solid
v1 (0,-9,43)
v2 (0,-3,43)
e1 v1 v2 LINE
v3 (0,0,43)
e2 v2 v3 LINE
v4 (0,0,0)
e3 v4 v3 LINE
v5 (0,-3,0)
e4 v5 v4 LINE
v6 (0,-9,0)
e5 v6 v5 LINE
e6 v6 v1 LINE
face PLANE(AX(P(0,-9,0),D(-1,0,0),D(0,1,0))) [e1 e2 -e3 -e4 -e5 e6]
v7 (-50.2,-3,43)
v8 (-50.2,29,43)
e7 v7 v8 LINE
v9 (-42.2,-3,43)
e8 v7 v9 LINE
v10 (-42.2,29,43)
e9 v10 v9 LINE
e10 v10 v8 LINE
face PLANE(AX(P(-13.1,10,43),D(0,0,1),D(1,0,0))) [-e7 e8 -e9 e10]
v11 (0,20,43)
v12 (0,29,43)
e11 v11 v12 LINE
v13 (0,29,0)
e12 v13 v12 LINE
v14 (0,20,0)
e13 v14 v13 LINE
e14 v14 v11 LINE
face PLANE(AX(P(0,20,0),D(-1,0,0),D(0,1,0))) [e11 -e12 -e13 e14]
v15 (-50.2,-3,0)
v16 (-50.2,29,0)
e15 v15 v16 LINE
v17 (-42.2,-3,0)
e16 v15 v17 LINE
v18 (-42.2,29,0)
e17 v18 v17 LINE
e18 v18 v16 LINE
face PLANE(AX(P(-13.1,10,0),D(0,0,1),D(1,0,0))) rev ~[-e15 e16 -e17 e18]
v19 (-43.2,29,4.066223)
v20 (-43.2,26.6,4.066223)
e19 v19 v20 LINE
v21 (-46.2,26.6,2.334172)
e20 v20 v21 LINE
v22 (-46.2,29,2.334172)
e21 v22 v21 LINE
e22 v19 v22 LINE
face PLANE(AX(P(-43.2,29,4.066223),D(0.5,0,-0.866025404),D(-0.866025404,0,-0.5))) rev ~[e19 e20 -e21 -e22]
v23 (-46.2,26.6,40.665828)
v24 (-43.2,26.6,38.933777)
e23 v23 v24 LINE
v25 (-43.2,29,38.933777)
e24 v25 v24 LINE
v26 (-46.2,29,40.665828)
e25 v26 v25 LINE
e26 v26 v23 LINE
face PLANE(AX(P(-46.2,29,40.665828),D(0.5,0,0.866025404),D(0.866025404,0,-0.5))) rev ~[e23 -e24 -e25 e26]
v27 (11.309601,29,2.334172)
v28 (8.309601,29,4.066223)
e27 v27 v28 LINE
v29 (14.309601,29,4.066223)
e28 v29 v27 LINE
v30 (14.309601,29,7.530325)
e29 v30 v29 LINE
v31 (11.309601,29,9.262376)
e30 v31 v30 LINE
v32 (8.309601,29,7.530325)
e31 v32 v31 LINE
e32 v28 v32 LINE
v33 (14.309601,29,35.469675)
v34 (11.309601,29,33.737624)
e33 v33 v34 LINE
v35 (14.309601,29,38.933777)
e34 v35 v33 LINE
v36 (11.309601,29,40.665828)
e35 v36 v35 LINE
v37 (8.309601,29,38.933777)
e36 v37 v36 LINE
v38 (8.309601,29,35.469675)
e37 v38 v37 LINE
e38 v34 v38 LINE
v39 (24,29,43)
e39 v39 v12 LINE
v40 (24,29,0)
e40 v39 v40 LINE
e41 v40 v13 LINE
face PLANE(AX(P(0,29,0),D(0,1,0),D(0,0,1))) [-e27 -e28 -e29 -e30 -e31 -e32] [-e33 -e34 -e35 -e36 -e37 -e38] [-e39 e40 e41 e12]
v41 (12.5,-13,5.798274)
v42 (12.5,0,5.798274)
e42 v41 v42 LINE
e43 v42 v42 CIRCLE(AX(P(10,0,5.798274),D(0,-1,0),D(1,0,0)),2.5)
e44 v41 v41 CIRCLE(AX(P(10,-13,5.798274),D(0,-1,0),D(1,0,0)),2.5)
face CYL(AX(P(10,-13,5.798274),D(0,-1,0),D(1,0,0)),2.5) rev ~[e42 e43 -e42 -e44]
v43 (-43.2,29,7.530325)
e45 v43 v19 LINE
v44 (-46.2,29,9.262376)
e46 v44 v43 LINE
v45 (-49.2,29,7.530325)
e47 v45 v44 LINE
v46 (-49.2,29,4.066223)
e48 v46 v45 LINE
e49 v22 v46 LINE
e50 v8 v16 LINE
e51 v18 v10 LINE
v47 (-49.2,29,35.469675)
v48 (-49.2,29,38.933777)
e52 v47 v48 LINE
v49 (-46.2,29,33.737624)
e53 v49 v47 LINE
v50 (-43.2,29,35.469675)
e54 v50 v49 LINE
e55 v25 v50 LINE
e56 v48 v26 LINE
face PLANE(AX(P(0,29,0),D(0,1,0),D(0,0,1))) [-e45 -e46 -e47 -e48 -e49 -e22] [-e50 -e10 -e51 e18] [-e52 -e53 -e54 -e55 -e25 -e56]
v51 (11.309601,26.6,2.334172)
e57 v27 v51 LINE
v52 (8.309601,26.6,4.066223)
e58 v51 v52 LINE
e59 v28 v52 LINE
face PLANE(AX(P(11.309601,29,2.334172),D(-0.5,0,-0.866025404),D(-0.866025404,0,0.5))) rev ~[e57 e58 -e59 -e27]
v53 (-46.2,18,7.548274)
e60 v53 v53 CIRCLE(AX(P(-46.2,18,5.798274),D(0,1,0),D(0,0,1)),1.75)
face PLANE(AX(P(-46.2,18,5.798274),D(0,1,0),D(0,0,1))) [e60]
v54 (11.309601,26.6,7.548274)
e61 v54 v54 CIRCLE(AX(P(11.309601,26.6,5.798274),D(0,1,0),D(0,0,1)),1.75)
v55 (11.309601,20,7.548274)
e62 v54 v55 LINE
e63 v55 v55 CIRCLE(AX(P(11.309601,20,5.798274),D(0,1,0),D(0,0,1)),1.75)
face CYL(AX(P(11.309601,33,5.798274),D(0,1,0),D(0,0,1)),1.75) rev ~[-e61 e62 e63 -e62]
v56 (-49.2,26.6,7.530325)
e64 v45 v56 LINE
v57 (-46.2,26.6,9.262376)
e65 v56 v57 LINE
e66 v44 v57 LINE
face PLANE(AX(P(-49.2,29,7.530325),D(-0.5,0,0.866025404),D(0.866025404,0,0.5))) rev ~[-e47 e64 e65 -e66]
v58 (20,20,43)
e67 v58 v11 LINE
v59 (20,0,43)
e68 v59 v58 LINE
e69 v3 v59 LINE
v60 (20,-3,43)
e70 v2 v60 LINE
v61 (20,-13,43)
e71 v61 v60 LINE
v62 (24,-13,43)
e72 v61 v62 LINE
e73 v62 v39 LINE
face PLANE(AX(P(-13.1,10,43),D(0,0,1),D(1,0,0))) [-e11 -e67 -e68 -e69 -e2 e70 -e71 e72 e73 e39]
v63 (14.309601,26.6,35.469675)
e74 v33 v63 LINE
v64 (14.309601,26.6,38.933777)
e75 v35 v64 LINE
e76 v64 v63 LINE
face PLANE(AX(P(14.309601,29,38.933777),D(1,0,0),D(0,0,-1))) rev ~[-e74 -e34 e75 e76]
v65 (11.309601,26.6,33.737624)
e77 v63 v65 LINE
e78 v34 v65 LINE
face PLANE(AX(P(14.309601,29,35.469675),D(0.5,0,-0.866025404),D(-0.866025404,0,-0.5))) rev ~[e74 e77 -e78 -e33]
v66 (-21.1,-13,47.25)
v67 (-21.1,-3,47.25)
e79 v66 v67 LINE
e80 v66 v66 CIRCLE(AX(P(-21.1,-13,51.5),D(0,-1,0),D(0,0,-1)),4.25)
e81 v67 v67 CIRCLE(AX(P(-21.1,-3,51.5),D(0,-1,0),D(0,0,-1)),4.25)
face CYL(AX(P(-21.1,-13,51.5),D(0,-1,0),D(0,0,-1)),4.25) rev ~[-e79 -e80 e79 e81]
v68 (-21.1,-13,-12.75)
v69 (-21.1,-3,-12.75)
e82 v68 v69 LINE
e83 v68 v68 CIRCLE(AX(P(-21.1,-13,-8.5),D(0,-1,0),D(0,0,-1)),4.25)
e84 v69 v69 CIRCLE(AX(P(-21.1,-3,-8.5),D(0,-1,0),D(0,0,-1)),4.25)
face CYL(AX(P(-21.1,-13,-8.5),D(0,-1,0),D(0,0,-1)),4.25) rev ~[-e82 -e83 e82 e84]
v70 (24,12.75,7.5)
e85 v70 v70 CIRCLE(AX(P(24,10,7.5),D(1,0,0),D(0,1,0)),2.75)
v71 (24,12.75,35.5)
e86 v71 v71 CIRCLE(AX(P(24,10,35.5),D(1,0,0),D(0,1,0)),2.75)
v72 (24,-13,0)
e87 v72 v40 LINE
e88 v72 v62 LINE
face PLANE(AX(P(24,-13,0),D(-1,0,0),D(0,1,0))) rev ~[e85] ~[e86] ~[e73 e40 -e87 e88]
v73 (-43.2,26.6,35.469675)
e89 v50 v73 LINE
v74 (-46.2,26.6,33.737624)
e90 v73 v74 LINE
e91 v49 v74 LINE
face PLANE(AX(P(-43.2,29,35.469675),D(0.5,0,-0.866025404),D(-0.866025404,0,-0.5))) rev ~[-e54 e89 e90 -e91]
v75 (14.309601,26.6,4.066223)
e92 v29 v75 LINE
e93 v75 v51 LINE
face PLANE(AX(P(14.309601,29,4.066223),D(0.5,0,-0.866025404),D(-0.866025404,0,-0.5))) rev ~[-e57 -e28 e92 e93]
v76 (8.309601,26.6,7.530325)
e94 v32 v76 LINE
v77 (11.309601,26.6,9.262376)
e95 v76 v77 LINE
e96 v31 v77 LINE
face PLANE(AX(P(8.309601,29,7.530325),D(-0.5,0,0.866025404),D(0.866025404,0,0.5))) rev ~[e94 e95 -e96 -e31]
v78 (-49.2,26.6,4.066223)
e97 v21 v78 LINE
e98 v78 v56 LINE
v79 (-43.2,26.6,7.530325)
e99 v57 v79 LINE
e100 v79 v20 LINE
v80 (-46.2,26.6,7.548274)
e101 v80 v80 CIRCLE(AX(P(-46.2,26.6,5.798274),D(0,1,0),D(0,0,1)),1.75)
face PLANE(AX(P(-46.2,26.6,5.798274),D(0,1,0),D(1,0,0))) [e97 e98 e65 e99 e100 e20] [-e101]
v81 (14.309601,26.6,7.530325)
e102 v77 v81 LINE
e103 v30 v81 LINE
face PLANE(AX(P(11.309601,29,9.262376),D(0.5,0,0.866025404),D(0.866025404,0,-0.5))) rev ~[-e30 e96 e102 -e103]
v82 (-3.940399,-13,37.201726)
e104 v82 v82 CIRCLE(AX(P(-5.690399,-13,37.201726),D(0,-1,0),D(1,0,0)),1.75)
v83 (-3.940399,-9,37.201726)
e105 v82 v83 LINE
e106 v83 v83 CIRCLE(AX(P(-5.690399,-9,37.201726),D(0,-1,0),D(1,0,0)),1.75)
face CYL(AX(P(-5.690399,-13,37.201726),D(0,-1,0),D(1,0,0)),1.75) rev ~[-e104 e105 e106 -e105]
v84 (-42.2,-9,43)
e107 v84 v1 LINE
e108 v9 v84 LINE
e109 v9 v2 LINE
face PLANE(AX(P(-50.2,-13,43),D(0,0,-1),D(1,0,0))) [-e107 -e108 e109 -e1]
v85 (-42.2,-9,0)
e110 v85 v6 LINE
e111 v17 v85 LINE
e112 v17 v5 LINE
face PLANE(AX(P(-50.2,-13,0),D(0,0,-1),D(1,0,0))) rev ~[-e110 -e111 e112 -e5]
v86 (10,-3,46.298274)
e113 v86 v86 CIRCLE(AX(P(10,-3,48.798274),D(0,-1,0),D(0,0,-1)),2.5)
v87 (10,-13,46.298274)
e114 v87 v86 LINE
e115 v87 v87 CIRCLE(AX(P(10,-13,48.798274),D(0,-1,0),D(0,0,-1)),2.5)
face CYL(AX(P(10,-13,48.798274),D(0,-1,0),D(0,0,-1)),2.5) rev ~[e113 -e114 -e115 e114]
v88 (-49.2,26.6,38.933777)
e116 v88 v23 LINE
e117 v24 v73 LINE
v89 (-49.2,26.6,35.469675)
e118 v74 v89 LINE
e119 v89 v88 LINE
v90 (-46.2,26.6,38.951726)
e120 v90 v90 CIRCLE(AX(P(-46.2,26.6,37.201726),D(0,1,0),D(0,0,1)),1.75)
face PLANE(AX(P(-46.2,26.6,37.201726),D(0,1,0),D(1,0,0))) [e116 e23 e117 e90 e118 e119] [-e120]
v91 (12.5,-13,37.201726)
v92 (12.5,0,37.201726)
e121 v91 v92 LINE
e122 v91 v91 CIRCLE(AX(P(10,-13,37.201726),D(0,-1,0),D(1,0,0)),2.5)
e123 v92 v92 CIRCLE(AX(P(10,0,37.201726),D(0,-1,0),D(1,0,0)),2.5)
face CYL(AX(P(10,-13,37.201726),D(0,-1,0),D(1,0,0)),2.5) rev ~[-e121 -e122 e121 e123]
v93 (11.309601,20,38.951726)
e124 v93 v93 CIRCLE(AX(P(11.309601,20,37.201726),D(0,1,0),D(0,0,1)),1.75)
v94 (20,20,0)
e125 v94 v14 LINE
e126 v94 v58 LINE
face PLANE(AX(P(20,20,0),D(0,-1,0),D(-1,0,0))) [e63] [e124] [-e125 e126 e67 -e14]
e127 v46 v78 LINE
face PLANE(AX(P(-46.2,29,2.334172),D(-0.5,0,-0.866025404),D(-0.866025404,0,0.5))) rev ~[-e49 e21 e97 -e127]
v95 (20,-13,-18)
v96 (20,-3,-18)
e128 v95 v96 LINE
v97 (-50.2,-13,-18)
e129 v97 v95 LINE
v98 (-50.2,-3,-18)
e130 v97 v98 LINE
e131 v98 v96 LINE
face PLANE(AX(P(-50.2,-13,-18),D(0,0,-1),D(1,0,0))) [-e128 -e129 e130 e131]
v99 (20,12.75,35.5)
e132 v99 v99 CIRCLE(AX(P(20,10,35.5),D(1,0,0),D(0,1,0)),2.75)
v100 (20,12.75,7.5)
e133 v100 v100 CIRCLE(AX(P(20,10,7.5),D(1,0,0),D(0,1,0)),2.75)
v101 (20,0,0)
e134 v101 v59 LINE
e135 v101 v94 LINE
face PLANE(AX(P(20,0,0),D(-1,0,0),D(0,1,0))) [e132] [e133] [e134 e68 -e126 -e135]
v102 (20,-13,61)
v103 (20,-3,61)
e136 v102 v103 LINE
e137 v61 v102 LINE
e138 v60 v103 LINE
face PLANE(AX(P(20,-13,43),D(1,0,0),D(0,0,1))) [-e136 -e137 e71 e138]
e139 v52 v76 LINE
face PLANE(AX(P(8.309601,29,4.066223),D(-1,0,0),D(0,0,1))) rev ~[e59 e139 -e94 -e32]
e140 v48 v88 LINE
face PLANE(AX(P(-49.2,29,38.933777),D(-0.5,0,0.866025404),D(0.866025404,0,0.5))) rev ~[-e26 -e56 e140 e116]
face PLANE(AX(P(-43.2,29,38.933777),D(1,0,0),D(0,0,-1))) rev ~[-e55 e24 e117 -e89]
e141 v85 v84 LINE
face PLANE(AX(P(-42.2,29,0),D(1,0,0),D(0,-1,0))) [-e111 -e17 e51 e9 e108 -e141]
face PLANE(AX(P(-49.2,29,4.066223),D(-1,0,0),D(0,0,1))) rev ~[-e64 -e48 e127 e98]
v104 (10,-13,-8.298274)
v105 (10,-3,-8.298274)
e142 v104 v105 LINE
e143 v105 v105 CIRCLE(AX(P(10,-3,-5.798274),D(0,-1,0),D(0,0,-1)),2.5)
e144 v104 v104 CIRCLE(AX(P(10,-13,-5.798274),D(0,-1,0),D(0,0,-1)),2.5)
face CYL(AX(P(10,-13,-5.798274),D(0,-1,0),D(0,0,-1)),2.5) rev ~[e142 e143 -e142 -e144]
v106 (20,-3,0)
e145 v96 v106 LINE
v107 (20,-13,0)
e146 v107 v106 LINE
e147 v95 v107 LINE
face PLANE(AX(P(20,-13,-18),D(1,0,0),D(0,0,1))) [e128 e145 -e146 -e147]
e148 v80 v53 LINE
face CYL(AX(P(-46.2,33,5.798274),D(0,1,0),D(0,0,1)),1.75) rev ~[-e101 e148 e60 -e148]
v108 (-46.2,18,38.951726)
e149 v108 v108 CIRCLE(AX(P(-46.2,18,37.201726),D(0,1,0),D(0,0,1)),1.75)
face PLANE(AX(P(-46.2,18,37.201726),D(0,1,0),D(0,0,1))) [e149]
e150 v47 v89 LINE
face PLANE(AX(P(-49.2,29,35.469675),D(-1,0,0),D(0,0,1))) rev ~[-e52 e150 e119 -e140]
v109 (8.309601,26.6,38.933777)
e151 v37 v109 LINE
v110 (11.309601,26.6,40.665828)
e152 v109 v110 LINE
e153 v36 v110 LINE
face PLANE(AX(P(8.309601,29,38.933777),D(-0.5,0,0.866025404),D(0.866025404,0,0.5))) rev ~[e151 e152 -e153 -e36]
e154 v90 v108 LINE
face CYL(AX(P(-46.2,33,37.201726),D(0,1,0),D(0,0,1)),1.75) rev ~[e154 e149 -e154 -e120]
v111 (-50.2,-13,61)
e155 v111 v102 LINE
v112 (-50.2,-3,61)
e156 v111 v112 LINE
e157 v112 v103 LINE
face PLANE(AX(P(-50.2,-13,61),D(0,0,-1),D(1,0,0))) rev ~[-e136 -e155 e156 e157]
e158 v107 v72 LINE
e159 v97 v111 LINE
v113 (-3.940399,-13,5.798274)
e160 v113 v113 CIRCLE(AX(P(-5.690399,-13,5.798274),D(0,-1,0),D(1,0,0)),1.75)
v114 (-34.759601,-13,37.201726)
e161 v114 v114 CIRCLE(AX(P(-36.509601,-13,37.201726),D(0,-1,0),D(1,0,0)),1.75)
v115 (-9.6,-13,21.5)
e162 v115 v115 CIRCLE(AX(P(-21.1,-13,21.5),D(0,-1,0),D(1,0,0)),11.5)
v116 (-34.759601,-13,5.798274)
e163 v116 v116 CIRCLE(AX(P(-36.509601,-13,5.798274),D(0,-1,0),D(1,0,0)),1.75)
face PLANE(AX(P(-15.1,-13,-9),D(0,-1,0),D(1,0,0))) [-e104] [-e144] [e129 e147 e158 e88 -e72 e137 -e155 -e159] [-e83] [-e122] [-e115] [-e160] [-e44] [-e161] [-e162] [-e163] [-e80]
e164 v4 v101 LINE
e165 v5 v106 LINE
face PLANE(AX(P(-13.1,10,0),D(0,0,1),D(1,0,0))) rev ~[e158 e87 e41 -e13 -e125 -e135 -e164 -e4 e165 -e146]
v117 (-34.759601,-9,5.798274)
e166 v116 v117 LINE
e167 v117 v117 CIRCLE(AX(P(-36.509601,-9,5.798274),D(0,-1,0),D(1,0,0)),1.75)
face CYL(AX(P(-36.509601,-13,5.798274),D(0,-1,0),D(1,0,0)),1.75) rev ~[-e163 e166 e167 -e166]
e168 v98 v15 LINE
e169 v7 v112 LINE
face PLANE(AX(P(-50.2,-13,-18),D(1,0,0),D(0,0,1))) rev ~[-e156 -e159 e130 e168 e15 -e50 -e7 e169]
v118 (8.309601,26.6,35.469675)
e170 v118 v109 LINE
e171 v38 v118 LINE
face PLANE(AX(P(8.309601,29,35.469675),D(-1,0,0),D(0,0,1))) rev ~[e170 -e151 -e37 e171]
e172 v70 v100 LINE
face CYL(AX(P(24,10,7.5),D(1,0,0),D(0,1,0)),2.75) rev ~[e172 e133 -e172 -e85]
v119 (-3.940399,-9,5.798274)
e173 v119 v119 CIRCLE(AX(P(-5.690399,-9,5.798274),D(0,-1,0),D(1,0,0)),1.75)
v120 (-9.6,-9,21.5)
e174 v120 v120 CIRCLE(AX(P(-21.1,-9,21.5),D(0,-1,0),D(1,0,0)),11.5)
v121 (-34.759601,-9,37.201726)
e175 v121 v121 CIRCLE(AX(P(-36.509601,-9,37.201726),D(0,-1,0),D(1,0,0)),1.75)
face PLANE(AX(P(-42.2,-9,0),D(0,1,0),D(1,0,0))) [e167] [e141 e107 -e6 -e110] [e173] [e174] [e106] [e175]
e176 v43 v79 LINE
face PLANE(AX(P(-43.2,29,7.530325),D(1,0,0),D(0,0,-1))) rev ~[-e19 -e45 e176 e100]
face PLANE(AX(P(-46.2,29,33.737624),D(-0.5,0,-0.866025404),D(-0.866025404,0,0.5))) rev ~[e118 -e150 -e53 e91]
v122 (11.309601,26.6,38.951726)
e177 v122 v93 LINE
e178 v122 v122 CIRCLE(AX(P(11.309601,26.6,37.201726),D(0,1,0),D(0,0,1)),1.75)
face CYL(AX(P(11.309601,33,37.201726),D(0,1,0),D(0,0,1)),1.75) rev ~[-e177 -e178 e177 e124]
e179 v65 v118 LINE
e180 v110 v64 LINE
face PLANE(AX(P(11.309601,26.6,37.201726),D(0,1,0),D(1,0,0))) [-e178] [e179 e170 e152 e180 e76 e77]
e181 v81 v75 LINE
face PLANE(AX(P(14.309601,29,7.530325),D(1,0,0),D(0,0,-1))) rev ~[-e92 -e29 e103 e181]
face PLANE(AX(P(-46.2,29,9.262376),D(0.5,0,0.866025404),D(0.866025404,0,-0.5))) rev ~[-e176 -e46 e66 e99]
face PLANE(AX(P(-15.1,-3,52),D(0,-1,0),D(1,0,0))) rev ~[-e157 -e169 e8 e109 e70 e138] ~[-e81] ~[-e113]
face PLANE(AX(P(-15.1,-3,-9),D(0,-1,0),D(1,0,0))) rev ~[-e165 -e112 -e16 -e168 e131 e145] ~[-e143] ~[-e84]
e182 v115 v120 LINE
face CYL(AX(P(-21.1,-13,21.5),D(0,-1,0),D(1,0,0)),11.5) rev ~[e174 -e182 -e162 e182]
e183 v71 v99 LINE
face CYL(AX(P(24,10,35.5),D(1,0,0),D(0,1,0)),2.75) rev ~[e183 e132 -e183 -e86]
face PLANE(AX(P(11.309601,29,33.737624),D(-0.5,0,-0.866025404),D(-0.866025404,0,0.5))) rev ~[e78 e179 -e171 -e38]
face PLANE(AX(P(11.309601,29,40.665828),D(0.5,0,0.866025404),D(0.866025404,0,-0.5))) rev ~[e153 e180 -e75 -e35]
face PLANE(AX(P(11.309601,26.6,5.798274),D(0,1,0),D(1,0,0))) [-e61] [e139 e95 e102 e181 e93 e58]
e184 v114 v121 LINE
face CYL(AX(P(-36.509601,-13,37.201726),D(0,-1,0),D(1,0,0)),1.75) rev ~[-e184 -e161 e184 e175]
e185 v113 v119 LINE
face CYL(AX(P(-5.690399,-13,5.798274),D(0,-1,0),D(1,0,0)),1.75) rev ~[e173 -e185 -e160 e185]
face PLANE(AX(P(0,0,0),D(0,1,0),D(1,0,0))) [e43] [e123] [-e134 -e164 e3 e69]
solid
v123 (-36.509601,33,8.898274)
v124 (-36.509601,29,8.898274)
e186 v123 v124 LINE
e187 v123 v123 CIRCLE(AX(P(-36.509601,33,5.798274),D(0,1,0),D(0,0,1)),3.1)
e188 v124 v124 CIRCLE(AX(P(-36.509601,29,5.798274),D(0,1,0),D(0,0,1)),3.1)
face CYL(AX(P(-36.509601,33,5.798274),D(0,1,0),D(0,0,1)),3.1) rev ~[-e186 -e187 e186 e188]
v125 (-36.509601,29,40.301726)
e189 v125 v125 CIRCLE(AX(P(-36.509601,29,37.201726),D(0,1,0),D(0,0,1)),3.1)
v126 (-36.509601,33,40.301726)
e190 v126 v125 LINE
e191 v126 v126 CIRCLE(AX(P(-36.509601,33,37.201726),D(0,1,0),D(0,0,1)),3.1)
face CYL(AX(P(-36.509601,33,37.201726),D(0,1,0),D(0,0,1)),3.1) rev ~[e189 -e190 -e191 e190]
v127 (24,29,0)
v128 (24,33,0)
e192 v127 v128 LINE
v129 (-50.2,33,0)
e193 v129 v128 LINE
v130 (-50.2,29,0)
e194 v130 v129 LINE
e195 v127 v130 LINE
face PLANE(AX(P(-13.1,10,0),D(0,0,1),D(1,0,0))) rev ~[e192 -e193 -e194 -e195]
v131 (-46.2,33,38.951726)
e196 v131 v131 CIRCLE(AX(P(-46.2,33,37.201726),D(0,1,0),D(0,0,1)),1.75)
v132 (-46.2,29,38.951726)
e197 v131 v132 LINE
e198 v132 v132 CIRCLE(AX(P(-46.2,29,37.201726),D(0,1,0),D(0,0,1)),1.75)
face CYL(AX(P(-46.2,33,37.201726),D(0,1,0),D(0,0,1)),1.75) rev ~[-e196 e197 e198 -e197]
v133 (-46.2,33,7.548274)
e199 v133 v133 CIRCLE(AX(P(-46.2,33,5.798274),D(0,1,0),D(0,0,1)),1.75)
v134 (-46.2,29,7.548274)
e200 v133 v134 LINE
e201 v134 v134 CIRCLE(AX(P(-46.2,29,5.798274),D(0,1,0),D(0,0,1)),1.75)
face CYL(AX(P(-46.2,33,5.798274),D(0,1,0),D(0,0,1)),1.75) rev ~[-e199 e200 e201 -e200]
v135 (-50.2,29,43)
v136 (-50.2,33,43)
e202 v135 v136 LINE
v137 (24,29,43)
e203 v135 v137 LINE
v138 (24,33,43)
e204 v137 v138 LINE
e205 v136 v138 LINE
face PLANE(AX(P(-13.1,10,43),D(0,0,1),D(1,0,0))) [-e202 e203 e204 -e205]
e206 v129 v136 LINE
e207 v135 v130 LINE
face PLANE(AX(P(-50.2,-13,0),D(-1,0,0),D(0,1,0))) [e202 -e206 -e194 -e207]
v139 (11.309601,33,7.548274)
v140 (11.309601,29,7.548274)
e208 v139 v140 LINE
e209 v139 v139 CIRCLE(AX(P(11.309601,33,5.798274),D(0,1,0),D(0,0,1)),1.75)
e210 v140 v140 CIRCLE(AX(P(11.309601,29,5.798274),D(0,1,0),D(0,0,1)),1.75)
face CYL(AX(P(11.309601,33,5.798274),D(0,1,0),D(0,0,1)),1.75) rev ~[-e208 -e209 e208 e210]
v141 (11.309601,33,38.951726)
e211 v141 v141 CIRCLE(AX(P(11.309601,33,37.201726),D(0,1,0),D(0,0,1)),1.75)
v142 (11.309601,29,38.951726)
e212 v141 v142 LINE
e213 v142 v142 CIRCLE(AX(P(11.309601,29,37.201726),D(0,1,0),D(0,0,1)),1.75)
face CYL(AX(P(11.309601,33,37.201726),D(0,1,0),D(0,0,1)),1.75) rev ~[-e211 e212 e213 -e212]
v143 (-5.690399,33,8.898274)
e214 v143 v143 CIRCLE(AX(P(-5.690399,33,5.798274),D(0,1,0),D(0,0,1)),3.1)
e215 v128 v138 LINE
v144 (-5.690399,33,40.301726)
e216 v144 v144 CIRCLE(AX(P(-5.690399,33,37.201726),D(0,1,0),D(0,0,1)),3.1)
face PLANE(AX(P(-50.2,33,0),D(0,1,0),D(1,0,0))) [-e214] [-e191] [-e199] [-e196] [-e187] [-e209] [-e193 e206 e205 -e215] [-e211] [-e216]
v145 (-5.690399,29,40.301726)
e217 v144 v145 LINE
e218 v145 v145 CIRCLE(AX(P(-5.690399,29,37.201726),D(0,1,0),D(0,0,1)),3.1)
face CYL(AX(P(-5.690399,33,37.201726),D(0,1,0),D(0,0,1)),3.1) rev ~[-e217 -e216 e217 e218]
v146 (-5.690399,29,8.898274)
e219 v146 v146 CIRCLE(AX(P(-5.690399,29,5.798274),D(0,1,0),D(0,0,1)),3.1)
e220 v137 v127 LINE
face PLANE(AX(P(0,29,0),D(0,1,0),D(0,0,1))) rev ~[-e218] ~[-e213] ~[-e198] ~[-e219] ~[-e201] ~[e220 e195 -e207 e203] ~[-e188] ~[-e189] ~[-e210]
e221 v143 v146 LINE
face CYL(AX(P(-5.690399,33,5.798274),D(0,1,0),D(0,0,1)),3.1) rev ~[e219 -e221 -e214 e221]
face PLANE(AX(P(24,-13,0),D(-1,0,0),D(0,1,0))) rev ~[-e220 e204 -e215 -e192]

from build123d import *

# Parameters (mm, degrees)
SKETCH1_W           = 74.2
SKETCH1_H           = 46
BOSS_EXTRUDE1_DEPTH = 43
SKETCH2_R           = 11.5
SKETCH2_R_2         = 1.75
SKETCH2_R_3         = 2.5
CUT_EXTRUDE1_DEPTH  = 20
SKETCH3_R           = 3.1
SKETCH3_R_2         = 1.75
CUT_EXTRUDE2_DEPTH  = 15
CUT_EXTRUDE3_DEPTH  = 2.4
SKETCH5_R           = 2.75
CUT_EXTRUDE4_DEPTH  = 12.4
SKETCH7_W           = 70.2
SKETCH7_H           = 18
SKETCH7_R           = 4.25
SKETCH7_R_2         = 2.5
BOSS_EXTRUDE8_DEPTH = 10


with BuildPart() as part:
    # Sketch1 → Boss-Extrude1 (new body)
    with BuildSketch(Plane.XY):
        with Locations((-13.1, 10)):
            Rectangle(SKETCH1_W, SKETCH1_H)
        Polygon((0, 0), (20, 0), (20, 20), (0, 20), (0, 29), (-42.2, 29), (-42.2, -9), (0, -9), align=None, mode=Mode.SUBTRACT)
    extrude(amount=BOSS_EXTRUDE1_DEPTH)

    # Sketch2 → Cut-Extrude1 (cut)
    with BuildSketch(Plane.XZ.offset(13)):
        with Locations((-21.1, 21.5)):
            Circle(SKETCH2_R)
        with Locations((-36.509600894, 37.201726029)):
            Circle(SKETCH2_R_2)
        with Locations((-5.690399106, 5.798273971)):
            Circle(SKETCH2_R_2)
        with Locations((-36.509600894, 5.798273971)):
            Circle(SKETCH2_R_2)
        with Locations((-5.690399106, 37.201726029)):
            Circle(SKETCH2_R_2)
        with Locations((10, 37.201726029)):
            Circle(SKETCH2_R_3)
        with Locations((10, 5.798273971)):
            Circle(SKETCH2_R_3)
    extrude(amount=-CUT_EXTRUDE1_DEPTH, mode=Mode.SUBTRACT)

    # Sketch3 → Cut-Extrude2 (cut)
    with BuildSketch(Plane(origin=(0, 33, 0), x_dir=(1, 0, 0), z_dir=(0, 1, 0))):
        with Locations(Location((-36.509600894, -5.798273971, 0), (0, 0, 270))):
            Circle(SKETCH3_R)
        with Locations(Location((-5.690399106, -5.798273971, 0), (0, 0, 270))):
            Circle(SKETCH3_R)
        with Locations(Location((-5.690399106, -37.201726029, 0), (0, 0, 270))):
            Circle(SKETCH3_R)
        with Locations(Location((-36.509600894, -37.201726029, 0), (0, 0, 270))):
            Circle(SKETCH3_R)
        with Locations(Location((-46.2, -5.798273971, 0), (0, 0, 270))):
            Circle(SKETCH3_R_2)
        with Locations(Location((-46.2, -37.201726029, 0), (0, 0, 270))):
            Circle(SKETCH3_R_2)
        with Locations(Location((11.309600894, -5.798273971, 0), (0, 0, 270))):
            Circle(SKETCH3_R_2)
        with Locations(Location((11.309600894, -37.201726029, 0), (0, 0, 270))):
            Circle(SKETCH3_R_2)
    extrude(amount=-CUT_EXTRUDE2_DEPTH, mode=Mode.SUBTRACT)


with BuildPart() as body_2:
    # Split1: the piece on the far side of the plane
    add(part.part)
    split(bisect_by=Plane.ZX.offset(29), keep=Keep.BOTTOM)

    # Sketch4 → Cut-Extrude3 (cut)
    with BuildSketch(Plane(origin=(0, 29, 0), x_dir=(1, 0, 0), z_dir=(0, 1, 0))):
        Polygon((-46.2, -2.334172356), (-49.2, -4.066223163), (-49.2, -7.530324778), (-46.2, -9.262375586), (-43.2, -7.530324778), (-43.2, -4.066223163), align=None)
        Polygon((-43.2, -35.469675222), (-46.2, -33.737624414), (-49.2, -35.469675222), (-49.2, -38.933776837), (-46.2, -40.665827644), (-43.2, -38.933776837), align=None)
        Polygon((14.309600894, -4.066223163), (11.309600894, -2.334172356), (8.309600894, -4.066223163), (8.309600894, -7.530324778), (11.309600894, -9.262375586), (14.309600894, -7.530324778), align=None)
        Polygon((14.309600894, -35.469675222), (11.309600894, -33.737624414), (8.309600894, -35.469675222), (8.309600894, -38.933776837), (11.309600894, -40.665827644), (14.309600894, -38.933776837), align=None)
    extrude(amount=-CUT_EXTRUDE3_DEPTH, mode=Mode.SUBTRACT)

    # Sketch5 → Cut-Extrude4 (cut)
    with BuildSketch(Plane(origin=(24, 0, 0), x_dir=(0, 0, -1), z_dir=(1, 0, 0))):
        with Locations(Location((-35.5, 10, 0), (0, 0, 90))):
            Circle(SKETCH5_R)
        with Locations(Location((-7.5, 10, 0), (0, 0, 90))):
            Circle(SKETCH5_R)
    extrude(amount=-CUT_EXTRUDE4_DEPTH, mode=Mode.SUBTRACT)

    # Sketch7 → Boss-Extrude8 (add)
    # profile 1 of 2: a face of its own
    with BuildSketch(Plane.XZ.offset(13)):
        with Locations((-15.1, -9)):
            Rectangle(SKETCH7_W, SKETCH7_H)
        with Locations(Location((-21.1, -8.5, 0), (0, 0, 270))):
            Circle(SKETCH7_R, mode=Mode.SUBTRACT)
        with Locations(Location((10, -5.798273971, 0), (0, 0, 270))):
            Circle(SKETCH7_R_2, mode=Mode.SUBTRACT)
    # profile 2 of 2: a face of its own
    with BuildSketch(Plane.XZ.offset(13)):
        with Locations((-15.1, 52)):
            Rectangle(SKETCH7_W, SKETCH7_H)
        with Locations(Location((-21.1, 51.5, 0), (0, 0, 270))):
            Circle(SKETCH7_R, mode=Mode.SUBTRACT)
        with Locations(Location((10, 48.798273971, 0), (0, 0, 270))):
            Circle(SKETCH7_R_2, mode=Mode.SUBTRACT)
    extrude(amount=-BOSS_EXTRUDE8_DEPTH)


with BuildPart() as part_1:
    add(part.part)

    # Split1
    split(bisect_by=Plane.ZX.offset(29), keep=Keep.TOP)


solid = Compound([body_2.part, part_1.part])
